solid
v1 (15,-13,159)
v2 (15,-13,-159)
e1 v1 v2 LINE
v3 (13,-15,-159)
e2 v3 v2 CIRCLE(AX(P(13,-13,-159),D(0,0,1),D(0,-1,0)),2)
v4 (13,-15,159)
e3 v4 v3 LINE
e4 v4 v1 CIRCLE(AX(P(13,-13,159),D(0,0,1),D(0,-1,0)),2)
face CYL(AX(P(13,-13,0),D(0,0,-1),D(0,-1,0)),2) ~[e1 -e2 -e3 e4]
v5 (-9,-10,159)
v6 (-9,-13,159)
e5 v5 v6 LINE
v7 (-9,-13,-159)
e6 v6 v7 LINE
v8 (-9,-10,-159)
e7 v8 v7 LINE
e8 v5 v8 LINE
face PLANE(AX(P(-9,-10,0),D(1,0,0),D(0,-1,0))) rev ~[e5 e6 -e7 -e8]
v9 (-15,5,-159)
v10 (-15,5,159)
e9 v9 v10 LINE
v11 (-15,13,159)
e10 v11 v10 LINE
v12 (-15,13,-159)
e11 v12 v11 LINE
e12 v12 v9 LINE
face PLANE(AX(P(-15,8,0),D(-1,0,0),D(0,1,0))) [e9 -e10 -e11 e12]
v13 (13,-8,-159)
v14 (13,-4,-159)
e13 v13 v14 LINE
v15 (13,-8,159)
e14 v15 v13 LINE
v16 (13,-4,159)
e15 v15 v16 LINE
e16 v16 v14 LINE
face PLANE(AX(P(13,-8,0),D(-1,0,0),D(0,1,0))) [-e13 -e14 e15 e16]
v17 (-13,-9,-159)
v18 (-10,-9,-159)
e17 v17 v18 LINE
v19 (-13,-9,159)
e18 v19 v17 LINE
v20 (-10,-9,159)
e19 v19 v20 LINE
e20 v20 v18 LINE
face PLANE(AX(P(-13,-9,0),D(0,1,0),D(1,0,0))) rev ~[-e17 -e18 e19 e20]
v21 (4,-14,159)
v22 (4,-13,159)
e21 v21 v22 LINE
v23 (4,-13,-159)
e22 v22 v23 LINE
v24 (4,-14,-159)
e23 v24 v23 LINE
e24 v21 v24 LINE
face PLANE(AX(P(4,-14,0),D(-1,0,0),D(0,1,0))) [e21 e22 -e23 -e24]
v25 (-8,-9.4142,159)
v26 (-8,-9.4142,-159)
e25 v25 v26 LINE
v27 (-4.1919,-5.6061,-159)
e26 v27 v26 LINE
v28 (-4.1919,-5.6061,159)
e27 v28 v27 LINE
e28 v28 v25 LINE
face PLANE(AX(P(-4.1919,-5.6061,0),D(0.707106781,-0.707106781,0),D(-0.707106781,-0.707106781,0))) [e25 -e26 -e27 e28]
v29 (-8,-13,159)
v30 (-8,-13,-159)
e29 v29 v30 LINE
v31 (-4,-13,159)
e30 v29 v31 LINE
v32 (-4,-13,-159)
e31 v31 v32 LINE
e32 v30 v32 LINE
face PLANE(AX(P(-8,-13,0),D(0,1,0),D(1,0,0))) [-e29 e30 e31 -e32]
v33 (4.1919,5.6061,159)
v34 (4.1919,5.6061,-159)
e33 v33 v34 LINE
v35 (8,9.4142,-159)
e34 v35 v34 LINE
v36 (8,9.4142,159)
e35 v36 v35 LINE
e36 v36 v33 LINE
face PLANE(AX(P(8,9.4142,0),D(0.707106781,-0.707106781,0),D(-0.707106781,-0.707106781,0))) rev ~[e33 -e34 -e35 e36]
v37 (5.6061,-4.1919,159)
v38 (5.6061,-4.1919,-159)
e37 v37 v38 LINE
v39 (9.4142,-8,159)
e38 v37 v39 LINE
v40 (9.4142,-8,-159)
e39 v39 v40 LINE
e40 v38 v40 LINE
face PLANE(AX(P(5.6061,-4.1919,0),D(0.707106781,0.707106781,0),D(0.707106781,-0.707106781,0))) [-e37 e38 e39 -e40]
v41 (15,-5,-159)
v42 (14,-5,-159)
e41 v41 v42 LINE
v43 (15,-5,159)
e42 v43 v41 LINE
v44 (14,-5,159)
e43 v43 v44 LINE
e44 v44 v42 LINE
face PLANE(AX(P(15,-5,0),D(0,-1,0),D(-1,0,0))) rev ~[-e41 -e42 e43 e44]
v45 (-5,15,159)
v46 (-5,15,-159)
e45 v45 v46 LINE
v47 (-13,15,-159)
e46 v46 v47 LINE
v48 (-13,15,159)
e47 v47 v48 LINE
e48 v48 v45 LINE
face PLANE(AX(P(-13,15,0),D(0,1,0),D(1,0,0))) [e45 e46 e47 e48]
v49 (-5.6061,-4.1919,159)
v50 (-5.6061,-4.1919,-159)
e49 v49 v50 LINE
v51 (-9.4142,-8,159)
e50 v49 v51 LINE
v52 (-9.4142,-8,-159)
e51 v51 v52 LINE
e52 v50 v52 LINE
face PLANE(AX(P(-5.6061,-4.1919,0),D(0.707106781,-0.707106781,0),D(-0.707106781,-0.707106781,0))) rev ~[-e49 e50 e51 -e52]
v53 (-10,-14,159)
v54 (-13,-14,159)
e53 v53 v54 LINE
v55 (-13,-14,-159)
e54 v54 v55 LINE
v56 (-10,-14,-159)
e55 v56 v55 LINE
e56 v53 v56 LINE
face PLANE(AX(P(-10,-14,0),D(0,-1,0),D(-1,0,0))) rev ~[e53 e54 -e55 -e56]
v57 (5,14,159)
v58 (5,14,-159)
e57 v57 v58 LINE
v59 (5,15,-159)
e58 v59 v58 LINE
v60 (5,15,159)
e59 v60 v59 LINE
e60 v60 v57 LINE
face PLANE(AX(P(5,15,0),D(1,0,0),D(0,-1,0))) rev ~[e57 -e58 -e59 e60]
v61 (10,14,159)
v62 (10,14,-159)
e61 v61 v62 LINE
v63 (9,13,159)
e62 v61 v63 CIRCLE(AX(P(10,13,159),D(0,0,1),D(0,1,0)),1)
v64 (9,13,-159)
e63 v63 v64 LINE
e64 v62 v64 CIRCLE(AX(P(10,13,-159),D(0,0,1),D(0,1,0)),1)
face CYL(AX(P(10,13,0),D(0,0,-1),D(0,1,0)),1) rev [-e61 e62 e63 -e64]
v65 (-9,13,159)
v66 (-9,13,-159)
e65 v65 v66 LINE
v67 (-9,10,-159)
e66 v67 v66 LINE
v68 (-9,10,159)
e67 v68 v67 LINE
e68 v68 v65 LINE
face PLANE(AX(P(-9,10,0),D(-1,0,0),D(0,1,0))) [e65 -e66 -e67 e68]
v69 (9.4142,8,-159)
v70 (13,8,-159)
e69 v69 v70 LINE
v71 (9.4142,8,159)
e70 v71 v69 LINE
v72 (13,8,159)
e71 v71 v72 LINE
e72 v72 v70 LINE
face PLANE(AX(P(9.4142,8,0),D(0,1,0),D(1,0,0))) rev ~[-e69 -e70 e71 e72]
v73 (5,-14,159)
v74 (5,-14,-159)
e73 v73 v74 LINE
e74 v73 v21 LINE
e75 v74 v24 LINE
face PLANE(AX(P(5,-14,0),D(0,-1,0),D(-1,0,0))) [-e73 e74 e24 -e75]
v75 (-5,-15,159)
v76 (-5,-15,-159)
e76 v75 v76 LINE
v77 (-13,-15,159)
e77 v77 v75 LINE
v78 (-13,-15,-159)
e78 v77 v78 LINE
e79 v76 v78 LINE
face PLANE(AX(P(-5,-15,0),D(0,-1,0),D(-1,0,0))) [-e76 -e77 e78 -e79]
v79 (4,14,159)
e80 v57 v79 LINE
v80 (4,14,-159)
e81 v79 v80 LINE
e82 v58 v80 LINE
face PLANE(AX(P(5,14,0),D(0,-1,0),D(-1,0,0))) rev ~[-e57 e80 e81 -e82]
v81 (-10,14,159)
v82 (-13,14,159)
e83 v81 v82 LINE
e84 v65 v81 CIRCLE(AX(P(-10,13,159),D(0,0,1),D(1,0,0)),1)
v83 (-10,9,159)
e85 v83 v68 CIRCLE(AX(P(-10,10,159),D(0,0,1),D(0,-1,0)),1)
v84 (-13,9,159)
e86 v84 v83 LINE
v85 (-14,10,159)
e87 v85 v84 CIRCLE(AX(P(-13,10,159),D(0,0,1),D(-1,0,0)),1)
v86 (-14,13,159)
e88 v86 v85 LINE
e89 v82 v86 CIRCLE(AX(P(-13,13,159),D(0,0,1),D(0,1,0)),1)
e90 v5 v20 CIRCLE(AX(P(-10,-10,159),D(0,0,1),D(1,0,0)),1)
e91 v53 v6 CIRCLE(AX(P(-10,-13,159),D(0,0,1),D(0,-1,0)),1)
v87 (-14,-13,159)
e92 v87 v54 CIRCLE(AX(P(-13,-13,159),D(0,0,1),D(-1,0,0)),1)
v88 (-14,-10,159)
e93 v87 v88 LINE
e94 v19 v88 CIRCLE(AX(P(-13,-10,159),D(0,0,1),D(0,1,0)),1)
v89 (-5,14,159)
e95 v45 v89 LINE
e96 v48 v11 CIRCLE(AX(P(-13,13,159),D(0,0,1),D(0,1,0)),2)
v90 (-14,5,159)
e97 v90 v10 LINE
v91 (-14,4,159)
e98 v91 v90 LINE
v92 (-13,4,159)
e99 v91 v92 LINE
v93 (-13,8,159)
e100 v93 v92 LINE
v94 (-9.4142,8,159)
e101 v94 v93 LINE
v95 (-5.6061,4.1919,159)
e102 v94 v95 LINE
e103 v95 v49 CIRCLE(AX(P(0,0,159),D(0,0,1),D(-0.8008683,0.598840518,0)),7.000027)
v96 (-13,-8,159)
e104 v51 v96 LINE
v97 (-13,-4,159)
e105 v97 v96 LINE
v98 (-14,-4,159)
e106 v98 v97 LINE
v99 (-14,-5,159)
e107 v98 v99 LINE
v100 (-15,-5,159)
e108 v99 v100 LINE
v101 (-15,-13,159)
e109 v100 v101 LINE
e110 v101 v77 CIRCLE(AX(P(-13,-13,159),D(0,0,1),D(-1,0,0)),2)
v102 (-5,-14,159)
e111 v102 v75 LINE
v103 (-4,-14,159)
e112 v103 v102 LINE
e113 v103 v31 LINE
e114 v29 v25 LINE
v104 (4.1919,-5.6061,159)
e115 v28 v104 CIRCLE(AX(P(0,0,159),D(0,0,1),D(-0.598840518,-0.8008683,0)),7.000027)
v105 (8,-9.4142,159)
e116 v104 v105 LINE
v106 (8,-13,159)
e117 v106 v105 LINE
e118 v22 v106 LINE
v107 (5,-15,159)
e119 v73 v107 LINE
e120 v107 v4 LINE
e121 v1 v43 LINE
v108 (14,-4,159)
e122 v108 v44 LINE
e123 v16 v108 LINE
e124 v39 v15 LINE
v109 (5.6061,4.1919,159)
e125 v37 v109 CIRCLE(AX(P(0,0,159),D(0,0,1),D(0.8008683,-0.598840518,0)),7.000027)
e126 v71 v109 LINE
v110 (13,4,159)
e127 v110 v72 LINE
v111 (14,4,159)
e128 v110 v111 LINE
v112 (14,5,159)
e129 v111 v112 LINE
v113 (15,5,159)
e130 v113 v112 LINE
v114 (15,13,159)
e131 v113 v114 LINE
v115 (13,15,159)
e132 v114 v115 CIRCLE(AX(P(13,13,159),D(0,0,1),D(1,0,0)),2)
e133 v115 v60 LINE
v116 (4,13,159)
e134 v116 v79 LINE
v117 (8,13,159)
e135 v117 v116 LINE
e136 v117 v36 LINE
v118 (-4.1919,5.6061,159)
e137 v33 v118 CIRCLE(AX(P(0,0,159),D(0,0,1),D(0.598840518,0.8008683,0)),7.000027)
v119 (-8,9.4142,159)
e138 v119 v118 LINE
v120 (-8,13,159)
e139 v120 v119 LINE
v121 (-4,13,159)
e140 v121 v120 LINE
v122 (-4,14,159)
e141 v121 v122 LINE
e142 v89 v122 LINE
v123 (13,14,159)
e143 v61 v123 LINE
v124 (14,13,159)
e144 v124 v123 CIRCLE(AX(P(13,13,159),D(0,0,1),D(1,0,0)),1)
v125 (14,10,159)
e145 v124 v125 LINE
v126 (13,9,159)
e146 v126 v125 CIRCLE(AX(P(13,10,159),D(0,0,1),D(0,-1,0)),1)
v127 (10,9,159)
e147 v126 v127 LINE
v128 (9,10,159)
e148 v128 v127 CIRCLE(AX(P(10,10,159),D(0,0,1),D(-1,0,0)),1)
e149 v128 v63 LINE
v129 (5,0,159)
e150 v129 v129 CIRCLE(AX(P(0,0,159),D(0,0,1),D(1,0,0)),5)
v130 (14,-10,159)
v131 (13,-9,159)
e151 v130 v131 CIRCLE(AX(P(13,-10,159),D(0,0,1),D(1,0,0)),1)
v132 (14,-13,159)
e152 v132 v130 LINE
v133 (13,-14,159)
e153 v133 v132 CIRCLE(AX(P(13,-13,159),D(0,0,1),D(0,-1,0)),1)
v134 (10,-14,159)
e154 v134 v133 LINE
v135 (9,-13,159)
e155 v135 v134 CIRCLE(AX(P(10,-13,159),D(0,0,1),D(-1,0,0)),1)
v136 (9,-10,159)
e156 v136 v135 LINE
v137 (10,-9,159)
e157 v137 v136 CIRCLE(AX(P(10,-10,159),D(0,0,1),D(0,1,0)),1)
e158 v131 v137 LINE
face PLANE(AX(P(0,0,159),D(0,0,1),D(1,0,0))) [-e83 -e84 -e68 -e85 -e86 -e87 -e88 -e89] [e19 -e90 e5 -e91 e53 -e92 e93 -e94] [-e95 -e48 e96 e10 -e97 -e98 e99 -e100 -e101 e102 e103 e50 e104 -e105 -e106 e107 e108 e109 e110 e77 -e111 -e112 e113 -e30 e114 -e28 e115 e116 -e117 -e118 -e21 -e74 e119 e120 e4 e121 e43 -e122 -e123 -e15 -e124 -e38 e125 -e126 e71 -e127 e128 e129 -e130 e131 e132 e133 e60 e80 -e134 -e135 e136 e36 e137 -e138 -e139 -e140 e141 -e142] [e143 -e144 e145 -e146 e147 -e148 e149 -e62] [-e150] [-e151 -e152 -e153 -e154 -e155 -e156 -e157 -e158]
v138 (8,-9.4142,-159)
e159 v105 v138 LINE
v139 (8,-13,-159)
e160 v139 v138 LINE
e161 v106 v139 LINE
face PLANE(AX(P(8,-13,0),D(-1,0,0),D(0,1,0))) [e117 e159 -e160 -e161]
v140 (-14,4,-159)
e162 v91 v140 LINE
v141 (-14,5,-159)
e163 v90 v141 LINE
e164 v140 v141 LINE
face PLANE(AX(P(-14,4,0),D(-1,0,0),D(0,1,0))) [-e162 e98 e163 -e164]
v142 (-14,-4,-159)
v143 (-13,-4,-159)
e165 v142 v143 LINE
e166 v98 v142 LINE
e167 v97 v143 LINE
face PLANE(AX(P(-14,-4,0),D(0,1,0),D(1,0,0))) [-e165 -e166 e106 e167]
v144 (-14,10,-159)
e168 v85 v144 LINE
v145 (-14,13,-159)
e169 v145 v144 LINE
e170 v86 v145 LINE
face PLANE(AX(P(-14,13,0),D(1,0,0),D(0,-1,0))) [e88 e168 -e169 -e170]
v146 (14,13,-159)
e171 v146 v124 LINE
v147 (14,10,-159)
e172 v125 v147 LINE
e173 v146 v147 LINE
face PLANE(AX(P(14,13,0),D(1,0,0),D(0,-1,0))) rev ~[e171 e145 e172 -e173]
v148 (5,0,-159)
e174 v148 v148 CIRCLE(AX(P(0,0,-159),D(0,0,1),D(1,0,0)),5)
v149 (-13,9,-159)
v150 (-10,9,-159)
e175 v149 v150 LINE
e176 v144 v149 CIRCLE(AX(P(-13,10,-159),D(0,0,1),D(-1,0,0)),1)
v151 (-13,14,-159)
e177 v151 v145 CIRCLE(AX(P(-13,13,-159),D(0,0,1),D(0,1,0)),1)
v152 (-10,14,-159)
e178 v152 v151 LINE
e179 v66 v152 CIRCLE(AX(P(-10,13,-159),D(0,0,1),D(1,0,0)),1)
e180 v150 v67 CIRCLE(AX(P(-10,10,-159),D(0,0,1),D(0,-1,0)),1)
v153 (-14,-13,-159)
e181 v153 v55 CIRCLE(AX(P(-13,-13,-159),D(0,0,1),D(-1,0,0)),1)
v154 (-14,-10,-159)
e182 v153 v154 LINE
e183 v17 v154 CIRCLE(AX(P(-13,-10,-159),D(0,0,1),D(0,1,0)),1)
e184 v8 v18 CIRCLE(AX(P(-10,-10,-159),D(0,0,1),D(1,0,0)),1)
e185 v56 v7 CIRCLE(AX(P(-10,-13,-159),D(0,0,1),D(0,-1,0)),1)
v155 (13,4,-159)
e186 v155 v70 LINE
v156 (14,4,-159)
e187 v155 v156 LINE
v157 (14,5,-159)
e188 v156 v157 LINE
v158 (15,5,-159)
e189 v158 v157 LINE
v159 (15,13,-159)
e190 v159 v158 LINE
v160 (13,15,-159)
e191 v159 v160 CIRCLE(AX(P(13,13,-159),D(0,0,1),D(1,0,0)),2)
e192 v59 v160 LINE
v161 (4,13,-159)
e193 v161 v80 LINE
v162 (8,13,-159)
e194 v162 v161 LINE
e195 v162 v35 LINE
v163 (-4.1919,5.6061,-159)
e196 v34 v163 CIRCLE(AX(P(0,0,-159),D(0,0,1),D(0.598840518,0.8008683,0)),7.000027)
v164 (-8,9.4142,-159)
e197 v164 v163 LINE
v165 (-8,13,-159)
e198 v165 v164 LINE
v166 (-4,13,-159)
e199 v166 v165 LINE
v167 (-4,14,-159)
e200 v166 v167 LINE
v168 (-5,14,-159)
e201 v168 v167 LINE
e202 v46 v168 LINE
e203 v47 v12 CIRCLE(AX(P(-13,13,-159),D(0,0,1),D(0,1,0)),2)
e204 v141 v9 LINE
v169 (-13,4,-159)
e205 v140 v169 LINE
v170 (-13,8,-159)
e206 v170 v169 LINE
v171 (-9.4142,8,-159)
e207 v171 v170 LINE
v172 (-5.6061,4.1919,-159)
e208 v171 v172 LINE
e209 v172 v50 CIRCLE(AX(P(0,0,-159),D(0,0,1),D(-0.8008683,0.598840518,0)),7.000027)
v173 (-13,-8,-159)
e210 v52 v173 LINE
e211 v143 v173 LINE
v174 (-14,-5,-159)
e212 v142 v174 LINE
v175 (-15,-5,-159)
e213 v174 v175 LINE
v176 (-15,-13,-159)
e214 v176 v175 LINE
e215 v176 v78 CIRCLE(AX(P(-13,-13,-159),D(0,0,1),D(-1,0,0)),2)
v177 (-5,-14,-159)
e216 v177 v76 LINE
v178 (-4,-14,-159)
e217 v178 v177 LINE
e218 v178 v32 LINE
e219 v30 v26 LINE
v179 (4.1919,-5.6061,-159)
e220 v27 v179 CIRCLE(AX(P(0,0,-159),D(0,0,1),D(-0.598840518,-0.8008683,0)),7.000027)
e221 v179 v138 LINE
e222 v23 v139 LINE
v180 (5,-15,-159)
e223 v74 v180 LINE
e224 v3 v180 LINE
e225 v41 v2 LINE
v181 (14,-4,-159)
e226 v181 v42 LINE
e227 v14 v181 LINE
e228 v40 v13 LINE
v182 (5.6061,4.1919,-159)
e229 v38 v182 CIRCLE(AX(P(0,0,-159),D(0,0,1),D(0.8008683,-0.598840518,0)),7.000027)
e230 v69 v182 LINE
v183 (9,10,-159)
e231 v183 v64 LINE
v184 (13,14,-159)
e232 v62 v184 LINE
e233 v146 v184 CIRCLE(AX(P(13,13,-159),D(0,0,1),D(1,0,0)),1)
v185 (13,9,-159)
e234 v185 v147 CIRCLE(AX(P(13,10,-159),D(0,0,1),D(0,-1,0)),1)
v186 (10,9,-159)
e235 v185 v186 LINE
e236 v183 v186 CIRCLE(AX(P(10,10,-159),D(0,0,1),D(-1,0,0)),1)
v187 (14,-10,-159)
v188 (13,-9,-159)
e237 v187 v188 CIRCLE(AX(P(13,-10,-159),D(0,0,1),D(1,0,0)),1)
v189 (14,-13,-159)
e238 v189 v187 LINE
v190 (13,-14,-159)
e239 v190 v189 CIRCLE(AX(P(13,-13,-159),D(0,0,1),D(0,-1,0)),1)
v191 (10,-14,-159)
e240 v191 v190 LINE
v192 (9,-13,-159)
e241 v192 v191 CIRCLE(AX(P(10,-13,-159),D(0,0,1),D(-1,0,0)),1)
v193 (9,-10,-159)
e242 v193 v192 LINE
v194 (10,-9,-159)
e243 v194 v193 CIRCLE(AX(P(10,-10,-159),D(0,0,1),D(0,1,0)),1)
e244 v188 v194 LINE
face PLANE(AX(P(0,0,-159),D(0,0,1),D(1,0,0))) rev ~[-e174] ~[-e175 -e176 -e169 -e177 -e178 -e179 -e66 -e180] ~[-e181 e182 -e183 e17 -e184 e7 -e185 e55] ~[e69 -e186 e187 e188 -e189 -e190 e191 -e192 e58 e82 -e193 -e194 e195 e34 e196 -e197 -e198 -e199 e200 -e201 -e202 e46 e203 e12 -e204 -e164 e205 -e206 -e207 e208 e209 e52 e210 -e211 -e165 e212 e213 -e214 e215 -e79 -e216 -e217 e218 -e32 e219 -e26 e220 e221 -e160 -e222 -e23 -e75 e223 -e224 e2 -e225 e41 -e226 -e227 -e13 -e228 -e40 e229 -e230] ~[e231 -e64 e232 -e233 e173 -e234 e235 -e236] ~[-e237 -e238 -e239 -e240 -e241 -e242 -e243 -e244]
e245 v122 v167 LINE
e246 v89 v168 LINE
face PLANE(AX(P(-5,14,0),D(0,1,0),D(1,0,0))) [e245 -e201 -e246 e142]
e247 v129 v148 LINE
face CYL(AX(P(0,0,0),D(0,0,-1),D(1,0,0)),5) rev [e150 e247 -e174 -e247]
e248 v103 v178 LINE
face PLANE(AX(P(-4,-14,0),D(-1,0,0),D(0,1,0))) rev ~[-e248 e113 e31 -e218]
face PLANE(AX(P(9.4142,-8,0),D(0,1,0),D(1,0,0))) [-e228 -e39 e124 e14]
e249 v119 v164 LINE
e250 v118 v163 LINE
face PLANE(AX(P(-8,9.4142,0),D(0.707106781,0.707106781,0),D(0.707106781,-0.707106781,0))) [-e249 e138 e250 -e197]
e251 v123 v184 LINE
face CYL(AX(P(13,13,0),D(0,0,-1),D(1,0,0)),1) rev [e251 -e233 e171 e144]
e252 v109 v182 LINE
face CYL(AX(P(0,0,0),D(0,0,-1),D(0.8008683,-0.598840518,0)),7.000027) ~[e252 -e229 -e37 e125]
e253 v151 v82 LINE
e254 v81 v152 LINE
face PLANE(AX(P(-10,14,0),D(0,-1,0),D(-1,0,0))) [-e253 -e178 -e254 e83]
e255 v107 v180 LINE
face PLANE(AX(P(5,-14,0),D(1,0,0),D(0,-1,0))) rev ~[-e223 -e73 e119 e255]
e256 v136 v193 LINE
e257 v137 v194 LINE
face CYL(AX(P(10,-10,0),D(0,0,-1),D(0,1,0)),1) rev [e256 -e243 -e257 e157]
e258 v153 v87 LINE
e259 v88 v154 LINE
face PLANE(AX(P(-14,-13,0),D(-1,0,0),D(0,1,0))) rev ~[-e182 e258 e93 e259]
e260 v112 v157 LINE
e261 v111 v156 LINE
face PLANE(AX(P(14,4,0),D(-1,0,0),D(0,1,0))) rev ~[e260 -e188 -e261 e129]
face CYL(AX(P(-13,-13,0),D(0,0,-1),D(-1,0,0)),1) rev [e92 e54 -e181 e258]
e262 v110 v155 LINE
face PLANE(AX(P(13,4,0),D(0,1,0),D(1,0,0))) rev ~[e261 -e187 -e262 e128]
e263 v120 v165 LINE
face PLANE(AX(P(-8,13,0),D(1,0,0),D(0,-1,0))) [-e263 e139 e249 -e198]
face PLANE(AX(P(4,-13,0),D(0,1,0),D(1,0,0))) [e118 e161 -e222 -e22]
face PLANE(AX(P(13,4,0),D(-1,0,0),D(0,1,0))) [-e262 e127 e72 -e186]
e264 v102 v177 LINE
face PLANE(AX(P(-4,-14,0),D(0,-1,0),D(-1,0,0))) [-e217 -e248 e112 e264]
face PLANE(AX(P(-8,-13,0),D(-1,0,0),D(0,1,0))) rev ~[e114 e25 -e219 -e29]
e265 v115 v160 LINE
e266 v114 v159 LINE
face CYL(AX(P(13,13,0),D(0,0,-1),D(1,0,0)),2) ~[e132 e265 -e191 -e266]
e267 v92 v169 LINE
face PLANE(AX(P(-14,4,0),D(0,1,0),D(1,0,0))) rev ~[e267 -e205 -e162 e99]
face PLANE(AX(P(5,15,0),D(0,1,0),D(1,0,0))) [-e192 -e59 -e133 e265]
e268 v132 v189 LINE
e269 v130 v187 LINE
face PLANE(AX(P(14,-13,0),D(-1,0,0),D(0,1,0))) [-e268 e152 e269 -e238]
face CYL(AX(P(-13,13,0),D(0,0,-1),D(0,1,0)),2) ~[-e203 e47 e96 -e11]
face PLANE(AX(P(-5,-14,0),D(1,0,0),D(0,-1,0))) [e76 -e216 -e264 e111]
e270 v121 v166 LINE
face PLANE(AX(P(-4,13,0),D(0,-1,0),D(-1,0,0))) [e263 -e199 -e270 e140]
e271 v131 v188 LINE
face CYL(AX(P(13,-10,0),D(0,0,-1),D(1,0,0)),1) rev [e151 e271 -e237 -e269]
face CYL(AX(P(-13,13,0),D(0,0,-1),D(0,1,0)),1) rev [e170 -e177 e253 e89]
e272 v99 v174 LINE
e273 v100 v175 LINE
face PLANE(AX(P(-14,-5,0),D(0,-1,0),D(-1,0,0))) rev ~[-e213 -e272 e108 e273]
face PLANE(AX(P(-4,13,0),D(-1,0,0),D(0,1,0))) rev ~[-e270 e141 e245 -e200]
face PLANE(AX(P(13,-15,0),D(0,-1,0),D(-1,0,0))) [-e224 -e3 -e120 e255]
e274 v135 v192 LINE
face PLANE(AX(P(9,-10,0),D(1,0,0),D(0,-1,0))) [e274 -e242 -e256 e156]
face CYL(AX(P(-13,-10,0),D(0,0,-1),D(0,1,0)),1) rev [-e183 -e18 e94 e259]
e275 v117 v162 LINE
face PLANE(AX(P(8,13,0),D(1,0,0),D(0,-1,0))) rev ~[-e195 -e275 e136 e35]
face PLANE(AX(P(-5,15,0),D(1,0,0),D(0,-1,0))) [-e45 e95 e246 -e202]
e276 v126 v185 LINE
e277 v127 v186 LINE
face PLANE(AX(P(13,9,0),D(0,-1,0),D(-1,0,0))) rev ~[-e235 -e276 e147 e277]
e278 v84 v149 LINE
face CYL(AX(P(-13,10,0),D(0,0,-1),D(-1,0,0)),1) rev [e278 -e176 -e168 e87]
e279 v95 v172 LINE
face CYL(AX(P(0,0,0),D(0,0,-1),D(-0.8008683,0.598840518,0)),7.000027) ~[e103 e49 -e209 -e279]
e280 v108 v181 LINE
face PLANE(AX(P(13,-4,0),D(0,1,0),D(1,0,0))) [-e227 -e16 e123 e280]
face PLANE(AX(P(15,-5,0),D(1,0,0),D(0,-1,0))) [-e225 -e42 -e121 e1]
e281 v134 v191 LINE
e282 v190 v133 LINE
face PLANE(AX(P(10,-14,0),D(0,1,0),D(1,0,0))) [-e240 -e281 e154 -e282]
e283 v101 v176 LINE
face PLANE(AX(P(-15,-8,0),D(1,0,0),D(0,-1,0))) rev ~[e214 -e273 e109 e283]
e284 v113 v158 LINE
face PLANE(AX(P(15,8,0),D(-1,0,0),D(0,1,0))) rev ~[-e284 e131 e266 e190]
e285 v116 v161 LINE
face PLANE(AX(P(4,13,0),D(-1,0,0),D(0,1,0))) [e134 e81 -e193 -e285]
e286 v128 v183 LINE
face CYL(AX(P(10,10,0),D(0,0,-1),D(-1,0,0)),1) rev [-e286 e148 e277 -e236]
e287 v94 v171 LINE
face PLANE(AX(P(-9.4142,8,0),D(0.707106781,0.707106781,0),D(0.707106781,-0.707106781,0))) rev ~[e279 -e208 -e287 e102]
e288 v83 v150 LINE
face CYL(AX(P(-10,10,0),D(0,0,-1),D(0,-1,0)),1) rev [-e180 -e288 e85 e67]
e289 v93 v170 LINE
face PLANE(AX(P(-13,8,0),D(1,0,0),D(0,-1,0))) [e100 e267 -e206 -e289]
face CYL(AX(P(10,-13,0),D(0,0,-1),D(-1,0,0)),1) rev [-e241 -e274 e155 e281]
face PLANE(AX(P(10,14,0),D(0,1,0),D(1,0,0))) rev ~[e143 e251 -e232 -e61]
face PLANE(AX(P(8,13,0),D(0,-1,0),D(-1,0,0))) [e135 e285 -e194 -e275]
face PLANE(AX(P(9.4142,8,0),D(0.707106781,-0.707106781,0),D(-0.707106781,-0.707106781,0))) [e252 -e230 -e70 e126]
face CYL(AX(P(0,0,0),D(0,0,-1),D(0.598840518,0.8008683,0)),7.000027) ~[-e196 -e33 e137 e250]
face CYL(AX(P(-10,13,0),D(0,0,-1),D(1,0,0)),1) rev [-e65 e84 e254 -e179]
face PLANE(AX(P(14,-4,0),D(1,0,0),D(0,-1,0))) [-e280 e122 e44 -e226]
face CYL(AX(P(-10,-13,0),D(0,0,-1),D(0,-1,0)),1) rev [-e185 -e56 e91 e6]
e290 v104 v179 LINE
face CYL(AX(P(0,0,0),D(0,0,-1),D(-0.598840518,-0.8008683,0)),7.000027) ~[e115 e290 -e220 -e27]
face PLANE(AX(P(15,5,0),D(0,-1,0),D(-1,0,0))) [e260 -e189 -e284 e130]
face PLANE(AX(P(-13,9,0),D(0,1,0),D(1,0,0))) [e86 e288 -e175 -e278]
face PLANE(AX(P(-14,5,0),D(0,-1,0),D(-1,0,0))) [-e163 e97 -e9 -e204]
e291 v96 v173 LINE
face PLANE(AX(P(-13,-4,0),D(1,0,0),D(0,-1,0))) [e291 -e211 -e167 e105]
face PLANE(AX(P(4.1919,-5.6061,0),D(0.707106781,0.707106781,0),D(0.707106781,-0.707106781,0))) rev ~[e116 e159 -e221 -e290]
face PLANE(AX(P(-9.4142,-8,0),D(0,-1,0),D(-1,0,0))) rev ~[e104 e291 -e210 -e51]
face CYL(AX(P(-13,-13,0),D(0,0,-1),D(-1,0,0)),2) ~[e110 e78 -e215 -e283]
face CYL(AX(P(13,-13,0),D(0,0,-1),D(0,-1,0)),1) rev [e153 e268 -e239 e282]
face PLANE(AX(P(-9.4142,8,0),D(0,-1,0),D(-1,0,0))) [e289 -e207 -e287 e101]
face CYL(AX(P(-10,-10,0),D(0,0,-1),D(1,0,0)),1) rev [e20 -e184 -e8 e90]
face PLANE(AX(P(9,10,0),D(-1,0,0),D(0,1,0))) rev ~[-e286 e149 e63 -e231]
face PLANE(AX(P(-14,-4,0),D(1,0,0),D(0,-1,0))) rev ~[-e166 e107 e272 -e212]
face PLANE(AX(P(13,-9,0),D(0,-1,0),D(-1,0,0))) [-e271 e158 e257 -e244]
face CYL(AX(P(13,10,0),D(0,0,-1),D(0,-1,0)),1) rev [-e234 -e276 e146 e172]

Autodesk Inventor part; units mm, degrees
ref_plane "YZ Plane" through (0, 0, 0) normal (1, 0, 0) x (0, 1, 0)
ref_plane "XZ Plane" through (0, 0, 0) normal (0, 1, 0) x (-1, 0, 0)
ref_plane "XY Plane" through (0, 0, 0) normal (0, 0, 1) x (1, 0, 0)
sketch "Sketch1" plane through (0, 0, 0) normal (0, 0, 1) x (1, 0, 0)
  circle A0 centre (0, 0) radius 5
  arc A1 (-13, 15) -> (-15, 13) centre (-13, 13) ccw
  arc A2 (-15, -13) -> (-13, -15) centre (-13, -13) ccw
  arc A3 (13, -15) -> (15, -13) centre (13, -13) ccw
  arc A4 (15, 13) -> (13, 15) centre (13, 13) ccw
  arc A5 (-13, 14) -> (-14, 13) centre (-13, 13) ccw
  arc A6 (-14, -13) -> (-13, -14) centre (-13, -13) ccw
  arc A7 (13, -14) -> (14, -13) centre (13, -13) ccw
  arc A8 (14, 13) -> (13, 14) centre (13, 13) ccw
  line L0 (14, -14) -> (-14, 14) construction
  line L1 (-14, -14) -> (14, 14) construction
  line L2 (15, -15) -> (-15, 15) construction
  line L3 (-15, -15) -> (15, 15) construction
  line L4 (-13, 15) -> (-8, 15)
  line L5 (-8, 13) -> (-8, 8) construction
  line L6 (-9.4142, 8) -> (-13, 8)
  line L7 (-15, 8) -> (-15, 13)
  line L8 (-13, -15) -> (-8, -15)
  line L9 (-8, -13) -> (-8, -9.4142)
  line L10 (-9.4142, -8) -> (-13, -8)
  line L11 (-15, -8) -> (-15, -13)
  line L12 (13, -15) -> (8, -15)
  line L13 (8, -13) -> (8, -9.4142)
  line L14 (9.4142, -8) -> (13, -8)
  line L15 (15, -8) -> (15, -13)
  line L16 (13, 15) -> (8, 15)
  line L17 (8, 13) -> (8, 9.4142)
  line L18 (9.4142, 8) -> (13, 8)
  line L19 (15, 8) -> (15, 13)
  line L20 (-13, 9) -> (-10, 9)
  line L21 (-9, 10) -> (-9, 13)
  line L22 (-10, 14) -> (-13, 14)
  line L23 (-14, 13) -> (-14, 10)
  line L24 (13, 9) -> (10, 9)
  line L25 (9, 10) -> (9, 13)
  line L26 (10, 14) -> (13, 14)
  line L27 (14, 13) -> (14, 10)
  line L28 (13, -9) -> (10, -9)
  line L29 (9, -10) -> (9, -13)
  line L30 (10, -14) -> (13, -14)
  line L31 (14, -13) -> (14, -10)
  line L32 (-13, -9) -> (-10, -9)
  line L33 (-9, -10) -> (-9, -13)
  line L34 (-10, -14) -> (-13, -14)
  line L35 (-14, -13) -> (-14, -10)
  line L36 (-14, 13) -> (-14, 10)
  line L37 (-14, -10) -> (-14, -13)
  line L38 (-14, -13) -> (-14, -10)
  line L39 (-14, 10) -> (-14, 13)
  line L40 (13, -15) -> (5, -15)
  line L41 (-5, -15) -> (-13, -15)
  line L42 (13, -15) -> (5, -15) construction
  line L43 (0, -15) -> (-13, -15) construction
  line L44 (4, -13) -> (8, -13)
  line L45 (-8, -13) -> (-4, -13)
  line L46 (10, -9) -> (13, -9)
  line L47 (14, -10) -> (14, -13)
  line L48 (13, -14) -> (10, -14)
  line L49 (9, -13) -> (9, -10)
  line L50 (5, -14) -> (5, -15)
  line L51 (13, -14) -> (10, -14)
  line L52 (5, -14) -> (4, -14)
  line L53 (4, -14) -> (5, -14)
  line L54 (10, -14) -> (13, -14)
  line L55 (-4, -14) -> (-5, -14)
  line L56 (-10, -14) -> (-13, -14)
  line L57 (-13, -14) -> (-10, -14)
  line L58 (-5, -14) -> (-4, -14)
  line L59 (14, -13) -> (14, -10)
  line L60 (14, 10) -> (14, 13)
  line L61 (14, 13) -> (14, 10)
  line L62 (14, -10) -> (14, -13)
  line L63 (-5, -14) -> (-5, -15)
  line L64 (10, 14) -> (13, 14)
  line L65 (13, 14) -> (10, 14)
  line L66 (-10, 14) -> (-13, 14)
  line L67 (-13, 14) -> (-10, 14)
  line L68 (-5, 15) -> (-5, 14)
  line L69 (-13, 15) -> (-5, 15)
  line L70 (5, 15) -> (13, 15)
  line L71 (-15, 15) -> (-5, 15) construction
  line L72 (5, 15) -> (15, 15) construction
  line L73 (5, 15) -> (5, 14)
  line L74 (8, 13) -> (4, 13)
  line L75 (5, 14) -> (4, 14)
  line L76 (-5, 14) -> (-4, 14)
  line L77 (4, 14) -> (5, 14)
  line L78 (-4, 13) -> (-8, 13)
  line L79 (-4, 14) -> (-5, 14)
  line L80 (4, 13) -> (4, 14)
  line L81 (-4, 13) -> (-4, 14)
  line L82 (-4, -14) -> (-4, -13)
  line L83 (4, -14) -> (4, -13)
  line L84 (-8, 9.4142) -> (-4.1919, 5.6061)
  line L85 (8, 9.4142) -> (4.1919, 5.6061)
  line L86 (9.4142, 8) -> (5.6061, 4.1919)
  line L87 (5.6061, -4.1919) -> (9.4142, -8)
  line L88 (4.1919, -5.6061) -> (8, -9.4142)
  line L89 (-4.1919, -5.6061) -> (-8, -9.4142)
  line L90 (-5.6061, -4.1919) -> (-9.4142, -8)
  line L91 (-9.4142, 8) -> (-5.6061, 4.1919)
  arc A9 (4.1919, 5.6061) -> (-4.1919, 5.6061) centre (0, 0) ccw
  arc A10 (5.6061, -4.1919) -> (5.6061, 4.1919) centre (0, 0) ccw
  arc A11 (-5.6061, 4.1919) -> (-5.6061, -4.1919) centre (0, 0) ccw
  arc A12 (-4.1919, -5.6061) -> (4.1919, -5.6061) centre (0, 0) ccw
  line L92 (-8, 13) -> (-8, 9.4142)
  line L93 (-15, -13) -> (-15, -5) construction
  line L94 (-15, -13) -> (-15, -5)
  line L95 (-15, 5) -> (-15, 13)
  line L96 (15, -5) -> (15, -13) construction
  line L97 (15, 13) -> (15, 5)
  line L98 (15, -5) -> (15, -13)
  line L99 (-14, -4) -> (-14, -5)
  line L100 (14, -4) -> (14, -5)
  line L101 (14, 4) -> (14, 5)
  line L102 (-14, 4) -> (-14, 5)
  line L103 (-13, 8) -> (-13, 4)
  line L104 (13, 4) -> (13, 8)
  line L105 (13, -8) -> (13, -4)
  line L106 (-13, -4) -> (-13, -8)
  line L107 (-14, -5) -> (-15, -5)
  line L108 (15, -5) -> (14, -5)
  line L109 (15, 5) -> (14, 5)
  line L110 (-14, 5) -> (-15, 5)
  line L111 (13, 4) -> (14, 4)
  line L112 (-14, 4) -> (-13, 4)
  line L113 (-14, -4) -> (-13, -4)
  line L114 (13, -4) -> (14, -4)
  arc A13 (-13, -9) -> (-14, -10) centre (-13, -10) ccw
  arc A14 (-9, -10) -> (-10, -9) centre (-10, -10) ccw
  arc A15 (-10, -14) -> (-9, -13) centre (-10, -13) ccw
  arc A16 (10, -9) -> (9, -10) centre (10, -10) ccw
  arc A17 (9, -13) -> (10, -14) centre (10, -13) ccw
  arc A18 (14, -10) -> (13, -9) centre (13, -10) ccw
  arc A19 (10, 14) -> (9, 13) centre (10, 13) ccw
  arc A20 (9, 10) -> (10, 9) centre (10, 10) ccw
  arc A21 (13, 9) -> (14, 10) centre (13, 10) ccw
  arc A22 (-9, 13) -> (-10, 14) centre (-10, 13) ccw
  arc A23 (-10, 9) -> (-9, 10) centre (-10, 10) ccw
  arc A24 (-14, 10) -> (-13, 9) centre (-13, 10) ccw
  point P0 (15, -15)
  point P1 (-5.5858, -7)
  dimension "d0" = 30
  dimension "d1" = 30
  dimension "d2" = 10
  dimension "d4" = 2
  dimension "d11" = 28
  dimension "d12" = 7
  dimension "d13" = 7
  dimension "d15" = 1
  dimension "d16" = 1
  dimension "d17" = 1
  dimension "d18" = 1
  dimension "d19" = 5
  dimension "d23" = 30
  dimension "d27" = 1
  dimension "d30" = 3.5858
  dimension "d31" = 2
  dimension "d32" = 16
  dimension "d33" = 8
  dimension "d34" = 6
  dimension "d35" = 5.5858
extrude "Extrusion1" add sketch "Sketch1" along normal mid plane 318
equation "\"d1\" = d0"
properties part number "trail" material "Aluminum 6061"
